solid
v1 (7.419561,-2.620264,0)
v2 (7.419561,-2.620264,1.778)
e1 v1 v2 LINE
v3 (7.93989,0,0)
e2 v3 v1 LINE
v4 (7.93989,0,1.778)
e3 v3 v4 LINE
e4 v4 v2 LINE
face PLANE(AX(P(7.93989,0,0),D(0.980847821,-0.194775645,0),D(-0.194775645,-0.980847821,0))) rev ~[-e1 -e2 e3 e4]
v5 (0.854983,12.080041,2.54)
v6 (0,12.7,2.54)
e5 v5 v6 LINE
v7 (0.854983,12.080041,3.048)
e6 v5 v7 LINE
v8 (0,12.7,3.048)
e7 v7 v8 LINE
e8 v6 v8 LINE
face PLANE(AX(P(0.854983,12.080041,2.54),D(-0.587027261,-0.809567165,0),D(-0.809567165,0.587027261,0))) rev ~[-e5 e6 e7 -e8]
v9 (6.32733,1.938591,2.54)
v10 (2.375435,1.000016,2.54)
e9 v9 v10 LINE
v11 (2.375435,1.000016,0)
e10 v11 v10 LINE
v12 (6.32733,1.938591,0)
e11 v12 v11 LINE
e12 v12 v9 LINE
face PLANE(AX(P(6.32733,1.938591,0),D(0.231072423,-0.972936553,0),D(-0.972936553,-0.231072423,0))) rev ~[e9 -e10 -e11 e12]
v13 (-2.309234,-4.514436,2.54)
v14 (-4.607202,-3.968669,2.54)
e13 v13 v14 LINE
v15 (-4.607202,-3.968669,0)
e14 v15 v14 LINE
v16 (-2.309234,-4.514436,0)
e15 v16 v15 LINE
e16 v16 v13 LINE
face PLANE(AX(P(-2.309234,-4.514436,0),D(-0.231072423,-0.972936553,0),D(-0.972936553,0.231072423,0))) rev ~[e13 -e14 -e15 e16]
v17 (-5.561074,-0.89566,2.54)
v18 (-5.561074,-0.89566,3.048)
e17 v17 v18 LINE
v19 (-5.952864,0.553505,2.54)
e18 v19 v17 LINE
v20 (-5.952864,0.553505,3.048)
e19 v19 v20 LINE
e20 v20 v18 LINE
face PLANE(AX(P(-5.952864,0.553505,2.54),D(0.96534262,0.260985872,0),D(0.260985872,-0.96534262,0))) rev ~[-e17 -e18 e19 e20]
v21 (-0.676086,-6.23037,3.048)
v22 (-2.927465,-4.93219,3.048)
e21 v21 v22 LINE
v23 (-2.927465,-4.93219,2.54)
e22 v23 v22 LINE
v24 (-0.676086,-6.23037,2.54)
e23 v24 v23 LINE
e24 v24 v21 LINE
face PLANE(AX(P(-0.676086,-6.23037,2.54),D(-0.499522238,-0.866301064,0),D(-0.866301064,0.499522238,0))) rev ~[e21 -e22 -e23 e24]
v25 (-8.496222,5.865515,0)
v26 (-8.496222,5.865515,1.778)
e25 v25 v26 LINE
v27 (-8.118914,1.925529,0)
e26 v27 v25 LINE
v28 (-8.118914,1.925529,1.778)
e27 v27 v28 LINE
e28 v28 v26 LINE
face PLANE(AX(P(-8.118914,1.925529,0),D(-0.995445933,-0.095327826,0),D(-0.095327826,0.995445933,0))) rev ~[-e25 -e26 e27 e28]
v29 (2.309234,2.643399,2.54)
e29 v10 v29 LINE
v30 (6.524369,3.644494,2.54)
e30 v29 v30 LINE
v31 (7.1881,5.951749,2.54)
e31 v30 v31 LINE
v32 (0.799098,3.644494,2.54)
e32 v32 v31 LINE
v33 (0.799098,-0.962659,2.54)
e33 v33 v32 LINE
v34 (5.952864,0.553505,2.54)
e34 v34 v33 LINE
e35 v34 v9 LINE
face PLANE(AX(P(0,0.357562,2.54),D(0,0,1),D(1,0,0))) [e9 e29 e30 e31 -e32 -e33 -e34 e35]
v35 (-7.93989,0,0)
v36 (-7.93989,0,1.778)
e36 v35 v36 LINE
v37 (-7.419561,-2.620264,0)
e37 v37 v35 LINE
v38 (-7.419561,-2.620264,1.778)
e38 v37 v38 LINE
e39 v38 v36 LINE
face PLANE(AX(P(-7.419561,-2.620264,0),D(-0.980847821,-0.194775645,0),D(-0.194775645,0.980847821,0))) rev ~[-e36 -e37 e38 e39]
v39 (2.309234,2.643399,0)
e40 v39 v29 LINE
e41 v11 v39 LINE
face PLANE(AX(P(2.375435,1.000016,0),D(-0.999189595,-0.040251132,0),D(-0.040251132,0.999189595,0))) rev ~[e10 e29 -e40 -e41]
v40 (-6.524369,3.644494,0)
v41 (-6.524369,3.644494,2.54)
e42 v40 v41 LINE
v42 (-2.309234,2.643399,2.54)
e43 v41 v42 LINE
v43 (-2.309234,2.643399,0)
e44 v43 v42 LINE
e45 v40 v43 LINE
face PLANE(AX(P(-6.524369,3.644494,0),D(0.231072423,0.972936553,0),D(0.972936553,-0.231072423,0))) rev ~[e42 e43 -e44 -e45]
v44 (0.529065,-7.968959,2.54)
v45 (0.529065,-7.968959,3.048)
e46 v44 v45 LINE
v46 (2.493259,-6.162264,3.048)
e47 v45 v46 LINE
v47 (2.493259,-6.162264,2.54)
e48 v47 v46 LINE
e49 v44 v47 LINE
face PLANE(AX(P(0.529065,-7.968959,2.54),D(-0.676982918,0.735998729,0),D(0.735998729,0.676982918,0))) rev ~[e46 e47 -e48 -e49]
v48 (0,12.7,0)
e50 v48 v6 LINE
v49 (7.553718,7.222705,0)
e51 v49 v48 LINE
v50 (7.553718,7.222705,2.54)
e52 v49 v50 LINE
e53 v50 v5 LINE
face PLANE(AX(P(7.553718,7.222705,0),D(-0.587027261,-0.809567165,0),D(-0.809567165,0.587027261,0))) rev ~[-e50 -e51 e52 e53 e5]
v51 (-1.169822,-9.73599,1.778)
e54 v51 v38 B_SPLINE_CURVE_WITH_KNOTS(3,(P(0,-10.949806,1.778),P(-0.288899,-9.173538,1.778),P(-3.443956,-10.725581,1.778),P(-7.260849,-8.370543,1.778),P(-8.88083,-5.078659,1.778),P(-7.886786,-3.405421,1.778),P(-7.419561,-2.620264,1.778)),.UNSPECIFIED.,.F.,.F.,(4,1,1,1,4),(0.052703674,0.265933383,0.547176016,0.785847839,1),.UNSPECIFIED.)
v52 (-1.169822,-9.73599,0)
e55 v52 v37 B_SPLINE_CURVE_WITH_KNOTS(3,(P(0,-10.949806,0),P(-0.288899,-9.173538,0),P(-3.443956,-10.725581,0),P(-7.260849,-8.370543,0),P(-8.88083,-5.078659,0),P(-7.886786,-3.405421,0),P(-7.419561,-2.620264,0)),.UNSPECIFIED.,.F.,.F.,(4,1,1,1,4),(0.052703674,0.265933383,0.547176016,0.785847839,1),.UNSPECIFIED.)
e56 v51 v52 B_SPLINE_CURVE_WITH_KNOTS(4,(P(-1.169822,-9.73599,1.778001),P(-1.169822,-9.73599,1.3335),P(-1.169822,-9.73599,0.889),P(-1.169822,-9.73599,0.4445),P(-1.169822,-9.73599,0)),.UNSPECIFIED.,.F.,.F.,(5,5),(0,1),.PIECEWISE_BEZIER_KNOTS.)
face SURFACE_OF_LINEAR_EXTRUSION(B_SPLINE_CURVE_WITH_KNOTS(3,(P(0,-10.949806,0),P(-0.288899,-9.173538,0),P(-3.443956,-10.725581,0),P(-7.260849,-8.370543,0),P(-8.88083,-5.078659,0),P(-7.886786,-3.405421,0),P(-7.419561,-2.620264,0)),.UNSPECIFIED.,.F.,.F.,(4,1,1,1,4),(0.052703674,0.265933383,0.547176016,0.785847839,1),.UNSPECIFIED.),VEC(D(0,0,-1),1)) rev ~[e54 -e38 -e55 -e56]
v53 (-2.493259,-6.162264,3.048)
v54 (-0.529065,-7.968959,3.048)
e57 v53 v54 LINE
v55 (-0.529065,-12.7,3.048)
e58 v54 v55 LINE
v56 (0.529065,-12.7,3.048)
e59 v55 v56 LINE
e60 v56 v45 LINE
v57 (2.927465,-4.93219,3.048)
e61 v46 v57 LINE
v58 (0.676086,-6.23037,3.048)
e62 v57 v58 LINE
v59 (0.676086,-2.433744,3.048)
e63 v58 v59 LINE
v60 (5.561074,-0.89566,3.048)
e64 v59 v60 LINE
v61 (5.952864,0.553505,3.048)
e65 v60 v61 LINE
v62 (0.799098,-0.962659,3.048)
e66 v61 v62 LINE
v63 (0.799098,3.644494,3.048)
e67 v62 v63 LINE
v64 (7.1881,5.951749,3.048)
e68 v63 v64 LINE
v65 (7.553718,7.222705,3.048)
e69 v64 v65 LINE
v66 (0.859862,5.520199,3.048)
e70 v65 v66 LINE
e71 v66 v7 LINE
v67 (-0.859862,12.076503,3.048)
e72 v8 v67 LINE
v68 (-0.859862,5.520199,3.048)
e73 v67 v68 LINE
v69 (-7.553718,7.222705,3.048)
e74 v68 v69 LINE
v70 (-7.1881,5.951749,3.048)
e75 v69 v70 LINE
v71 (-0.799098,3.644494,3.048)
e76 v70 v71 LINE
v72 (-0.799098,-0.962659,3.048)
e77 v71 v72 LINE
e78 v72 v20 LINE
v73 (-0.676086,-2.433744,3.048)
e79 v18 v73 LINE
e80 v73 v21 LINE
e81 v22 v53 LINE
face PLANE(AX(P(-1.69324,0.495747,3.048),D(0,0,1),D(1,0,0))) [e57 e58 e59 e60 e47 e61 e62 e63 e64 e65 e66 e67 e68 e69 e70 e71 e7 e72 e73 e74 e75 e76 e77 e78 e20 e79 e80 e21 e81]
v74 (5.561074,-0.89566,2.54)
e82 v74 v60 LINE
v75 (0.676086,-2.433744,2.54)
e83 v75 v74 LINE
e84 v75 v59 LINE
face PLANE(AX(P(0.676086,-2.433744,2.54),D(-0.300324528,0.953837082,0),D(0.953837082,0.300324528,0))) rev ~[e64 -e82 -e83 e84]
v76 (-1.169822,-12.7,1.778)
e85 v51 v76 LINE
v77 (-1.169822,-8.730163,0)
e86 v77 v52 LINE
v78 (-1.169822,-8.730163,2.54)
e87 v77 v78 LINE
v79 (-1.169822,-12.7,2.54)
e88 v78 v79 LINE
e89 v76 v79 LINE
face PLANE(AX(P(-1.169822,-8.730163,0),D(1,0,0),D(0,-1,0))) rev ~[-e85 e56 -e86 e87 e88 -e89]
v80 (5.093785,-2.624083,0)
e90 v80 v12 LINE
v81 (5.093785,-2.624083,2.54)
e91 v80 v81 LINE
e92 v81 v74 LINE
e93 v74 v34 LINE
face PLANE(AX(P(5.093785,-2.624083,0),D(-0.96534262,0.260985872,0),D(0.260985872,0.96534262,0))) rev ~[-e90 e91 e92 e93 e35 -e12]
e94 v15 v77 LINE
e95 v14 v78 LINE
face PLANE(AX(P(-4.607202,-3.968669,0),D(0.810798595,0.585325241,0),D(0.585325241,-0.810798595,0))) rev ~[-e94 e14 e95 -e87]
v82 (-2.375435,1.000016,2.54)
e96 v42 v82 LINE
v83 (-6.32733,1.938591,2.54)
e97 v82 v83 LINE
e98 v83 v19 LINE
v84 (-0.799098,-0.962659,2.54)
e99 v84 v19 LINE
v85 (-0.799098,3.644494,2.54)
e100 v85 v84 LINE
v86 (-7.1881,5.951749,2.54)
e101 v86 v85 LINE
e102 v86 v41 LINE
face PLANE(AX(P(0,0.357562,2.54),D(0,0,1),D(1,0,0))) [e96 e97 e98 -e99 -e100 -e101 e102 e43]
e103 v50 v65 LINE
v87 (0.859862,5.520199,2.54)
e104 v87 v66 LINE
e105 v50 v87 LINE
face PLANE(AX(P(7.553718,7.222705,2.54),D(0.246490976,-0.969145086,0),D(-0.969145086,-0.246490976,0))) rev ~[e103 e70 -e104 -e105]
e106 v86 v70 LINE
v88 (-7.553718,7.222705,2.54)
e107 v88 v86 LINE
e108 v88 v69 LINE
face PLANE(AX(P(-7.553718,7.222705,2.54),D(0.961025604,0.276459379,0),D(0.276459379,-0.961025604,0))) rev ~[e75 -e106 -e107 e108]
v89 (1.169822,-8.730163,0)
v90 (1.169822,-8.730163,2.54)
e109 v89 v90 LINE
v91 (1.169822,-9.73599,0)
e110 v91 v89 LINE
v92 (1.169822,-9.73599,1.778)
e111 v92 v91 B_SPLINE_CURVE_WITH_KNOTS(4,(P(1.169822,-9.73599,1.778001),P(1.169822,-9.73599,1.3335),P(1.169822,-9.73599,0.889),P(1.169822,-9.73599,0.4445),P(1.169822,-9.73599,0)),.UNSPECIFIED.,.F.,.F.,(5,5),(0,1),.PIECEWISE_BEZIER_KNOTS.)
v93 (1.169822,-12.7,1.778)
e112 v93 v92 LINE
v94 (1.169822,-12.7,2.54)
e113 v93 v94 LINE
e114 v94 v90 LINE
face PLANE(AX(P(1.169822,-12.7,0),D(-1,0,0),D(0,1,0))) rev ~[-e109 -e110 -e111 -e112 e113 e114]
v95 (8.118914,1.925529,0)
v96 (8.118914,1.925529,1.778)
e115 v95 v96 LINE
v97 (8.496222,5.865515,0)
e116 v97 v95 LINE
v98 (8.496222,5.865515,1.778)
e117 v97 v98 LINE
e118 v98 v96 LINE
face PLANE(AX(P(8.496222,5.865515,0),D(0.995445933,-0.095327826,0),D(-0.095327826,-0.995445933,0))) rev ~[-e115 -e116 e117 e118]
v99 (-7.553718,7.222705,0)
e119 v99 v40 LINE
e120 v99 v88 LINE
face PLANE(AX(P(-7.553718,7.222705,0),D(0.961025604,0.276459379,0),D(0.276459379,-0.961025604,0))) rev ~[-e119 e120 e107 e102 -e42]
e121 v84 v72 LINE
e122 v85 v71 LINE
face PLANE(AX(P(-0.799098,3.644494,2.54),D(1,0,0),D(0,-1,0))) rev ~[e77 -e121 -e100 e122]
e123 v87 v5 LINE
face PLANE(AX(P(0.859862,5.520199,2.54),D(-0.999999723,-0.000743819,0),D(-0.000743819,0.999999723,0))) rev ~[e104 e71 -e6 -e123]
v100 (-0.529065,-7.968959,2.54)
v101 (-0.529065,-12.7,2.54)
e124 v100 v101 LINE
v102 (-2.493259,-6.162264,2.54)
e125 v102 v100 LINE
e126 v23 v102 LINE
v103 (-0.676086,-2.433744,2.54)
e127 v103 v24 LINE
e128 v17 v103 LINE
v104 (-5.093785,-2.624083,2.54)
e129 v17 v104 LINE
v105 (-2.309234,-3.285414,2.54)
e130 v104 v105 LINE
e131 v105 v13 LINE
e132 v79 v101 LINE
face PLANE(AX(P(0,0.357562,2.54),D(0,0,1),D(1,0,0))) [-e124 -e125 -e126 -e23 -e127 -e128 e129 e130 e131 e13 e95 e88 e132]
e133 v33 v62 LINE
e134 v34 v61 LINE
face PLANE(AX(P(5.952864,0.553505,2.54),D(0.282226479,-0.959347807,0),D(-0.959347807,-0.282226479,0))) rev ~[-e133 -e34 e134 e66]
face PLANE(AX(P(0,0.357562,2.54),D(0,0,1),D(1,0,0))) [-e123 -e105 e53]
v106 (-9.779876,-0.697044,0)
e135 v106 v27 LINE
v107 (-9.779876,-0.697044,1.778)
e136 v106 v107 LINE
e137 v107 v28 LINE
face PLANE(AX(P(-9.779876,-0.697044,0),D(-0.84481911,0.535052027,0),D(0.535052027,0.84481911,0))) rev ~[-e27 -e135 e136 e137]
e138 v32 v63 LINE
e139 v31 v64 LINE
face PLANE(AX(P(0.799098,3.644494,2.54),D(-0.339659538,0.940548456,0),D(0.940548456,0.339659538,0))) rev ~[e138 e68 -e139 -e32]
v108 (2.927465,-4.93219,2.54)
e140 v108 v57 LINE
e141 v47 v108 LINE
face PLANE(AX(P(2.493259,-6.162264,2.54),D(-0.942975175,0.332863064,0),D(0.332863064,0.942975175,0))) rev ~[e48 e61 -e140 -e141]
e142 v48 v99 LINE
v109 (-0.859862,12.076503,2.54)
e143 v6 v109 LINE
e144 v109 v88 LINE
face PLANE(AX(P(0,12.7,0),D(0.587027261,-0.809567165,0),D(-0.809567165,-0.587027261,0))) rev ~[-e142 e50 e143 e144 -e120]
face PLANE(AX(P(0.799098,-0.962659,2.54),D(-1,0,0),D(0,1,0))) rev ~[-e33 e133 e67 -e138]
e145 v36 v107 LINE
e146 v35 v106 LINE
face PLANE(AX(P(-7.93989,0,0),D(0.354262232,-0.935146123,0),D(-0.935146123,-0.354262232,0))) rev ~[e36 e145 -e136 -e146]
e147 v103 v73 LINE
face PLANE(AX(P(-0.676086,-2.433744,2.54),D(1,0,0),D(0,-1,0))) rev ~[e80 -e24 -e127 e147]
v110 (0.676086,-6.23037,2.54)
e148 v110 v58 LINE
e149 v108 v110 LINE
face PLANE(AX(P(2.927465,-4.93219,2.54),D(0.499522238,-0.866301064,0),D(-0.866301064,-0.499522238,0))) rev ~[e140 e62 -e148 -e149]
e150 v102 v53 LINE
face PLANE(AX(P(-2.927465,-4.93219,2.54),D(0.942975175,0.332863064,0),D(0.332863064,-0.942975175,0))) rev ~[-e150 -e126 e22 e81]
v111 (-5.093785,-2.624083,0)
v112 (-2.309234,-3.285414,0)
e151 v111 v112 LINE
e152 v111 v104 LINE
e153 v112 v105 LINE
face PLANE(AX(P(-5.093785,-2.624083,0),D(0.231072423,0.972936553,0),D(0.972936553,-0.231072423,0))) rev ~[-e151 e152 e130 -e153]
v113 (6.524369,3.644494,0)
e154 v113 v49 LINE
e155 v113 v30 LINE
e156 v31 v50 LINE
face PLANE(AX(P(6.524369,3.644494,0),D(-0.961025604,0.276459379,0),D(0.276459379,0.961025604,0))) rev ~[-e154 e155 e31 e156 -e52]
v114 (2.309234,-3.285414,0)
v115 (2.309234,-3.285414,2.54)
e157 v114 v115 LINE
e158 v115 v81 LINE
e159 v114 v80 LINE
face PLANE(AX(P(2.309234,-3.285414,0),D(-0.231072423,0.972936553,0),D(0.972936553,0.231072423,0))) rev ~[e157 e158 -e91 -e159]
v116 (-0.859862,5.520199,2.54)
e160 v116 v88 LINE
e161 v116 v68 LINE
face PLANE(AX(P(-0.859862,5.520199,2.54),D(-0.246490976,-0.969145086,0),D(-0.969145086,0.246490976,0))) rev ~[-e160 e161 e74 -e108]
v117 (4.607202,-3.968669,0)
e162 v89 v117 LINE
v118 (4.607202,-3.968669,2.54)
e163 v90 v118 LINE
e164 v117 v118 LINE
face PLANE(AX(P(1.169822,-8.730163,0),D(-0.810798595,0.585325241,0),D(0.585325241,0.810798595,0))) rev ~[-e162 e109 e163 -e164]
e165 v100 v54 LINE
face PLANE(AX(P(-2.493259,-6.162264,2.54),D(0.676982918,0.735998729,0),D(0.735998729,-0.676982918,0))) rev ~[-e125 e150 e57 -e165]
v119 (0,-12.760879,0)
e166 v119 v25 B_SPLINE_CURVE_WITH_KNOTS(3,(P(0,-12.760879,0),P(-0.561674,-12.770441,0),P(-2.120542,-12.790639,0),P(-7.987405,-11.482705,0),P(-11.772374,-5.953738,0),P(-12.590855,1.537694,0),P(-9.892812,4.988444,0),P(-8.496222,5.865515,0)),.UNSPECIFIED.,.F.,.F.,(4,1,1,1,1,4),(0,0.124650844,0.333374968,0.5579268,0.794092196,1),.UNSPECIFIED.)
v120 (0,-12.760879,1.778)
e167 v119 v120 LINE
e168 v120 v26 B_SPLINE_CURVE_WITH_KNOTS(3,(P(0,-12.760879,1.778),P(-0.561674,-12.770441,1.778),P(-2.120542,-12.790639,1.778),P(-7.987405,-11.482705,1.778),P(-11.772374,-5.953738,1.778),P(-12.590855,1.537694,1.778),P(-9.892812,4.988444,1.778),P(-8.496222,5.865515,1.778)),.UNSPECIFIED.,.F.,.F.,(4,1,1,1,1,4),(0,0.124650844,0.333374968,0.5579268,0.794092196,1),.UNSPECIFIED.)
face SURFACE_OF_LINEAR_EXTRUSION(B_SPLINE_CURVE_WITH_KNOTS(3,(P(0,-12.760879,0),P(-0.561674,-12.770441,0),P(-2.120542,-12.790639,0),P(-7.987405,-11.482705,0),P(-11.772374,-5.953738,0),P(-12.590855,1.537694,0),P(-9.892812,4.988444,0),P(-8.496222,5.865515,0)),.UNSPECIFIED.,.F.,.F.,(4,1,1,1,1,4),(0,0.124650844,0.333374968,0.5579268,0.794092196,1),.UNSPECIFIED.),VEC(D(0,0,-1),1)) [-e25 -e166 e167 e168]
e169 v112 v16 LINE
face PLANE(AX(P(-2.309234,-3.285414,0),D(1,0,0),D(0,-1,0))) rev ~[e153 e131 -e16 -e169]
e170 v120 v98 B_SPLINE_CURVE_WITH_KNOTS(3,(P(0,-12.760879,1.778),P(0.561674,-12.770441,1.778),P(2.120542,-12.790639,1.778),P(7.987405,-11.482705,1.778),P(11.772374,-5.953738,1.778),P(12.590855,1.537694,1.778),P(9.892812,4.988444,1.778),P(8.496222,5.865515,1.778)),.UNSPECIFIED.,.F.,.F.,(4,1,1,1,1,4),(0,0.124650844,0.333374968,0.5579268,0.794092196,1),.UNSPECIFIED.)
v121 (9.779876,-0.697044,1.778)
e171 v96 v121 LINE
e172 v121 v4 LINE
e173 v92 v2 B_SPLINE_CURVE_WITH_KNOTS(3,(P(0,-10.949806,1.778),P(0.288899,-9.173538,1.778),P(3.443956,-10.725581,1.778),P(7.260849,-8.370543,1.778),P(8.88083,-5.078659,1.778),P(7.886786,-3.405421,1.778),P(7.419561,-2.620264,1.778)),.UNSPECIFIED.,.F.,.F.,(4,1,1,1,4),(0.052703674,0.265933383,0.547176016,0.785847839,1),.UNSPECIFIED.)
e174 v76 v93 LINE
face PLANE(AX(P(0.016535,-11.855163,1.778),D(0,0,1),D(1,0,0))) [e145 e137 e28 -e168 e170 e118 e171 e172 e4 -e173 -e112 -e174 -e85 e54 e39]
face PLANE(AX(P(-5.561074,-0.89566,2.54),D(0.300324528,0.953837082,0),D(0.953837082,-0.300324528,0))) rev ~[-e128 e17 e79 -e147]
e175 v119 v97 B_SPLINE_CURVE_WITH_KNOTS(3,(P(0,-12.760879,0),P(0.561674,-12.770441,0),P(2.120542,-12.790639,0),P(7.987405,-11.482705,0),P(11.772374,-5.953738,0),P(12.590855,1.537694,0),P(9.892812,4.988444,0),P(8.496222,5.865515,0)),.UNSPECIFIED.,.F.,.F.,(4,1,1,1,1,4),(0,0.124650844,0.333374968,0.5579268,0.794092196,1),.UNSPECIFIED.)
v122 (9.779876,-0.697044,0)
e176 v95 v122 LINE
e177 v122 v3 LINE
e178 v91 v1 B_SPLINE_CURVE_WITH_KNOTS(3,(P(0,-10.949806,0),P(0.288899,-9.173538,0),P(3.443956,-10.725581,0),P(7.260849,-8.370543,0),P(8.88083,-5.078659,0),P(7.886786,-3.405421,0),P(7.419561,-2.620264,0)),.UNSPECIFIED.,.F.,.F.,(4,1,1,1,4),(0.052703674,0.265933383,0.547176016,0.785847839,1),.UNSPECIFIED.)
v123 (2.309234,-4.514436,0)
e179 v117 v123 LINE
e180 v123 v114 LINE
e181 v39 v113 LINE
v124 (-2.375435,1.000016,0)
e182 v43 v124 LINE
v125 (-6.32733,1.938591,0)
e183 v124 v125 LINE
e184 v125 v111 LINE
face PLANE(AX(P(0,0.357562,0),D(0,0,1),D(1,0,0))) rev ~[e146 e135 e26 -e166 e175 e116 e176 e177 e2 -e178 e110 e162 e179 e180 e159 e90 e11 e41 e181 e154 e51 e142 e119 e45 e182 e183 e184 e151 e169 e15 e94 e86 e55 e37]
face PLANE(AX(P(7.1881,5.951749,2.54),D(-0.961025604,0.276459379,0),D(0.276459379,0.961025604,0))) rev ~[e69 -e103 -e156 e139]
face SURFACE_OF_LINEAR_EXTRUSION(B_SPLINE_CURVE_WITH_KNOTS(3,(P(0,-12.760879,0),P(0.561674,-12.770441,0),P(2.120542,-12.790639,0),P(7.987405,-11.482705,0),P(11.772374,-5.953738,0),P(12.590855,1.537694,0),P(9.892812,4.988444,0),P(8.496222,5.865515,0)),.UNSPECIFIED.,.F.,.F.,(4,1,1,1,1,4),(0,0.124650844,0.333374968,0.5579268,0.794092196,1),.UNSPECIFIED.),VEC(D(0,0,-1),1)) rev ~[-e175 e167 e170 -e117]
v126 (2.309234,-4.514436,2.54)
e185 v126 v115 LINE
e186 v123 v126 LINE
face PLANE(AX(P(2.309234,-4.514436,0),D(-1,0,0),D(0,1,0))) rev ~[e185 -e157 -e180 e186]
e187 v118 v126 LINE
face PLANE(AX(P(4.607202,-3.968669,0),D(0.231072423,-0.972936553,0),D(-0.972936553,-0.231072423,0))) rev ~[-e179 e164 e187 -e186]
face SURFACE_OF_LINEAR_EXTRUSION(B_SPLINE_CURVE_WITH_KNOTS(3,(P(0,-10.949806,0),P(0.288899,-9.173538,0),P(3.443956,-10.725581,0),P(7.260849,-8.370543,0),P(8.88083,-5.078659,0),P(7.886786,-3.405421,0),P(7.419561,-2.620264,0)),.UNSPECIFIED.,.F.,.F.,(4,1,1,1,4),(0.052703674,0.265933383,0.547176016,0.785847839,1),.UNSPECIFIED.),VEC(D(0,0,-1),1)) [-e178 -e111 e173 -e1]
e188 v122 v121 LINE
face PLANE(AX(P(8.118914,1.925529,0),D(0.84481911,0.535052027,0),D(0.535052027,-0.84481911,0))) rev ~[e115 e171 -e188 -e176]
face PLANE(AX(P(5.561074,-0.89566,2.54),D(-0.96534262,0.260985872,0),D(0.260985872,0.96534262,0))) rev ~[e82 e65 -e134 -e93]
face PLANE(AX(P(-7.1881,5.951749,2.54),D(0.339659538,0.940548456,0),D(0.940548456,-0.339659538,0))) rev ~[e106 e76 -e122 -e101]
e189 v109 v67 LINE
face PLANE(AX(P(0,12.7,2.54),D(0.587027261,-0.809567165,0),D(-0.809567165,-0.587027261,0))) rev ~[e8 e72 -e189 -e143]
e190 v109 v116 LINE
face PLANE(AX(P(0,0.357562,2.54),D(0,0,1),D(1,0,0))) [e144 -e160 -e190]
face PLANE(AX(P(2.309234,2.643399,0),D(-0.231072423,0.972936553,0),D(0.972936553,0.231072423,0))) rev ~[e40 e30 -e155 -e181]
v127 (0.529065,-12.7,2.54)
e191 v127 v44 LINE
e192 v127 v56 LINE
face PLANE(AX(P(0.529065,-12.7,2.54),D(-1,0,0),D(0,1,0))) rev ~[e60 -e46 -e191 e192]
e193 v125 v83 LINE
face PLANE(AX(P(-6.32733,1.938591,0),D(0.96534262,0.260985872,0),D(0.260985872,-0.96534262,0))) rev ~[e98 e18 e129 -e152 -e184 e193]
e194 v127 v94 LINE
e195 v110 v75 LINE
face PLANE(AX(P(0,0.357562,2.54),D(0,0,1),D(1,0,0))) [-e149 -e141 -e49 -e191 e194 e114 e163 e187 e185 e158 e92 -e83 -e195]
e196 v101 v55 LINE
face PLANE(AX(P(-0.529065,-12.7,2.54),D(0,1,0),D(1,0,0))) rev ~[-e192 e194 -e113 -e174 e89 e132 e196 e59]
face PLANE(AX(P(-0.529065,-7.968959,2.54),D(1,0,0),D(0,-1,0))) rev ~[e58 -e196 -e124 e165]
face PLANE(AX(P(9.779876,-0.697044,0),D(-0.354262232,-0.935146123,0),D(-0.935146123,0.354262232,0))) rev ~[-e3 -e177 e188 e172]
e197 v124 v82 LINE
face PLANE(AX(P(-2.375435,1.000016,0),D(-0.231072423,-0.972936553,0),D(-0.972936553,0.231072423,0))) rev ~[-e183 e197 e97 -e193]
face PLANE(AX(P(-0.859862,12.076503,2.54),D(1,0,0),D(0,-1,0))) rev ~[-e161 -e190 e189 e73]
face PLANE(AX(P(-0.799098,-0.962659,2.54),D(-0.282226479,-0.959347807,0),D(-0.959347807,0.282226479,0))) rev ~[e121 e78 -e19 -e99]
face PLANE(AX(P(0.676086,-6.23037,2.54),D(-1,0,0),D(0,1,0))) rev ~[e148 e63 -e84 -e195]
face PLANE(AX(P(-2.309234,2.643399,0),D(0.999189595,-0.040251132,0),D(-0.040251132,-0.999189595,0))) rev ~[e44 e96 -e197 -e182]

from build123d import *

# Parameters (mm, degrees)
F1_DEPTH = 2.54
F3_DEPTH = 0.508
F5_DEPTH = 1.778


with BuildPart() as f1:
    # F0 (on Top) → F1 (new body)
    with BuildSketch(Plane.XY):
        Polygon((7.5537175871, 7.222705055), (0, 12.7), (-7.5537175871, 7.222705055), (-6.5243692948, 3.6444937882), (-2.3092337336, 2.6433991272), (-2.3754354034, 1.0000162736), (-6.3273296691, 1.9385911291), (-5.0937847926, -2.6240828397), (-2.3092337336, -3.2854136933), (-2.3092337336, -4.5144362623), (-4.6072022218, -3.9686687653), (-1.1698224965, -8.7301628115), (-1.1698224965, -12.7), (0, -12.7), (1.1698224965, -12.7), (1.1698224965, -8.7301628115), (4.6072022218, -3.9686687653), (2.3092337336, -4.5144362623), (2.3092337336, -3.2854136933), (5.0937847926, -2.6240828397), (6.3273296691, 1.9385911291), (2.3754354034, 1.0000162736), (2.3092337336, 2.6433991272), (6.5243692948, 3.6444937882), align=None)
    extrude(amount=F1_DEPTH)

    # F2 (on face) → F3 (join)
    with BuildSketch(Plane.XY.offset(2.54)):
        Polygon((-0.8598621353, 5.5201994255), (-7.5537175871, 7.222705055), (-7.1881001843, 5.951749131), (-0.7990982267, 3.6444937882), (-0.7990982267, -0.9626591927), (-5.9528638441, 0.5535053454), (-5.5610737687, -0.8956599119), (-0.676086056, -2.4337439895), (-0.676086056, -6.2303695025), (-2.9274653643, -4.9321902916), (-2.4932585657, -6.1622643843), (-0.5290653789, -7.9689593986), (-0.5290653789, -12.7), (0, -12.7), (0, 12.7), (-0.8598621353, 12.0765032287), align=None)
        Polygon((0.8549828016, 12.0800412944), (0, 12.7), (0, -12.7), (0.5290653789, -12.7), (0.5290653789, -7.9689593986), (2.4932585657, -6.1622643843), (2.9274653643, -4.9321902916), (0.676086056, -6.2303695025), (0.676086056, -2.4337439895), (5.5610737687, -0.8956599119), (5.9528638441, 0.5535053454), (0.7990982267, -0.9626591927), (0.7990982267, 3.6444937882), (7.1881001843, 5.951749131), (7.5537175871, 7.222705055), (0.8598621353, 5.5201994255), align=None)
    extrude(amount=F3_DEPTH)

    # F4 (on Top) → F5 (join)
    with BuildSketch(Plane.XY):
        with BuildLine():
            Line((0, -10.949806289), (0, -12.7608785406))
            add(Edge.make_bspline(
                [(0, -12.7608785406), (0.0773443542, -11.9772860283), (0.0714068119, -11.3888440065), (0, -10.949806289)],
                knots=[0, 0, 0, 0, 0.052703674, 0.052703674, 0.052703674, 0.052703674], degree=3))
        make_face()
        with BuildLine():
            add(Edge.make_bspline(
                [(0, -12.7608785406), (-0.0773443542, -11.9772860283), (-0.0714068119, -11.3888440065), (0, -10.949806289)],
                knots=[0, 0, 0, 0, 0.052703674, 0.052703674, 0.052703674, 0.052703674], degree=3))
            Line((0, -12.7608785406), (0, -10.949806289))
        make_face()
        with BuildLine():
            add(Edge.make_bspline(
                [(0, -12.7608785406), (-0.5616742186, -12.770440741), (-2.1205421024, -12.790638617), (-7.9874049211, -11.4827046144), (-11.7723741699, -5.9537379696), (-12.5908554196, 1.5376936676), (-9.8928115736, 4.9884440795), (-8.4962220863, 5.8655152097)],
                knots=[0, 0, 0, 0, 0.1246508441, 0.3333749684, 0.5579268, 0.7940921964, 1, 1, 1, 1], degree=3))
            add(Edge.make_bspline(
                [(0, -12.7608785406), (-0.0773443542, -11.9772860283), (-0.0714068119, -11.3888440065), (0, -10.949806289)],
                knots=[0, 0, 0, 0, 0.052703674, 0.052703674, 0.052703674, 0.052703674], degree=3))
            add(Edge.make_bspline(
                [(0, -10.949806289), (-0.2888992842, -9.1735376255), (-3.443955699, -10.7255806784), (-7.2608486379, -8.3705425095), (-8.8808301689, -5.0786594093), (-7.8867861812, -3.4054211415), (-7.4195610359, -2.6202637237)],
                knots=[0.052703674, 0.052703674, 0.052703674, 0.052703674, 0.2659333829, 0.547176016, 0.7858478386, 1, 1, 1, 1], degree=3))
            Line((-7.4195610359, -2.6202637237), (-7.939890027, 0))
            Line((-7.939890027, 0), (-9.779876098, -0.6970435497))
            Line((-9.779876098, -0.6970435497), (-8.118913509, 1.92552933))
            Line((-8.118913509, 1.92552933), (-8.4962220863, 5.8655152097))
        make_face()
        with BuildLine():
            add(Edge.make_bspline(
                [(0, -12.7608785406), (0.0773443542, -11.9772860283), (0.0714068119, -11.3888440065), (0, -10.949806289)],
                knots=[0, 0, 0, 0, 0.052703674, 0.052703674, 0.052703674, 0.052703674], degree=3))
            add(Edge.make_bspline(
                [(0, -12.7608785406), (0.5616742186, -12.770440741), (2.1205421024, -12.790638617), (7.9874049211, -11.4827046144), (11.7723741699, -5.9537379696), (12.5908554196, 1.5376936676), (9.8928115736, 4.9884440795), (8.4962220863, 5.8655152097)],
                knots=[0, 0, 0, 0, 0.1246508441, 0.3333749684, 0.5579268, 0.7940921964, 1, 1, 1, 1], degree=3))
            Line((8.4962220863, 5.8655152097), (8.118913509, 1.92552933))
            Line((8.118913509, 1.92552933), (9.779876098, -0.6970435497))
            Line((9.779876098, -0.6970435497), (7.939890027, 0))
            Line((7.939890027, 0), (7.4195610359, -2.6202637237))
            add(Edge.make_bspline(
                [(0, -10.949806289), (0.2888992842, -9.1735376255), (3.443955699, -10.7255806784), (7.2608486379, -8.3705425095), (8.8808301689, -5.0786594093), (7.8867861812, -3.4054211415), (7.4195610359, -2.6202637237)],
                knots=[0.052703674, 0.052703674, 0.052703674, 0.052703674, 0.2659333829, 0.547176016, 0.7858478386, 1, 1, 1, 1], degree=3))
        make_face()
    extrude(amount=F5_DEPTH)


solid = f1.part
